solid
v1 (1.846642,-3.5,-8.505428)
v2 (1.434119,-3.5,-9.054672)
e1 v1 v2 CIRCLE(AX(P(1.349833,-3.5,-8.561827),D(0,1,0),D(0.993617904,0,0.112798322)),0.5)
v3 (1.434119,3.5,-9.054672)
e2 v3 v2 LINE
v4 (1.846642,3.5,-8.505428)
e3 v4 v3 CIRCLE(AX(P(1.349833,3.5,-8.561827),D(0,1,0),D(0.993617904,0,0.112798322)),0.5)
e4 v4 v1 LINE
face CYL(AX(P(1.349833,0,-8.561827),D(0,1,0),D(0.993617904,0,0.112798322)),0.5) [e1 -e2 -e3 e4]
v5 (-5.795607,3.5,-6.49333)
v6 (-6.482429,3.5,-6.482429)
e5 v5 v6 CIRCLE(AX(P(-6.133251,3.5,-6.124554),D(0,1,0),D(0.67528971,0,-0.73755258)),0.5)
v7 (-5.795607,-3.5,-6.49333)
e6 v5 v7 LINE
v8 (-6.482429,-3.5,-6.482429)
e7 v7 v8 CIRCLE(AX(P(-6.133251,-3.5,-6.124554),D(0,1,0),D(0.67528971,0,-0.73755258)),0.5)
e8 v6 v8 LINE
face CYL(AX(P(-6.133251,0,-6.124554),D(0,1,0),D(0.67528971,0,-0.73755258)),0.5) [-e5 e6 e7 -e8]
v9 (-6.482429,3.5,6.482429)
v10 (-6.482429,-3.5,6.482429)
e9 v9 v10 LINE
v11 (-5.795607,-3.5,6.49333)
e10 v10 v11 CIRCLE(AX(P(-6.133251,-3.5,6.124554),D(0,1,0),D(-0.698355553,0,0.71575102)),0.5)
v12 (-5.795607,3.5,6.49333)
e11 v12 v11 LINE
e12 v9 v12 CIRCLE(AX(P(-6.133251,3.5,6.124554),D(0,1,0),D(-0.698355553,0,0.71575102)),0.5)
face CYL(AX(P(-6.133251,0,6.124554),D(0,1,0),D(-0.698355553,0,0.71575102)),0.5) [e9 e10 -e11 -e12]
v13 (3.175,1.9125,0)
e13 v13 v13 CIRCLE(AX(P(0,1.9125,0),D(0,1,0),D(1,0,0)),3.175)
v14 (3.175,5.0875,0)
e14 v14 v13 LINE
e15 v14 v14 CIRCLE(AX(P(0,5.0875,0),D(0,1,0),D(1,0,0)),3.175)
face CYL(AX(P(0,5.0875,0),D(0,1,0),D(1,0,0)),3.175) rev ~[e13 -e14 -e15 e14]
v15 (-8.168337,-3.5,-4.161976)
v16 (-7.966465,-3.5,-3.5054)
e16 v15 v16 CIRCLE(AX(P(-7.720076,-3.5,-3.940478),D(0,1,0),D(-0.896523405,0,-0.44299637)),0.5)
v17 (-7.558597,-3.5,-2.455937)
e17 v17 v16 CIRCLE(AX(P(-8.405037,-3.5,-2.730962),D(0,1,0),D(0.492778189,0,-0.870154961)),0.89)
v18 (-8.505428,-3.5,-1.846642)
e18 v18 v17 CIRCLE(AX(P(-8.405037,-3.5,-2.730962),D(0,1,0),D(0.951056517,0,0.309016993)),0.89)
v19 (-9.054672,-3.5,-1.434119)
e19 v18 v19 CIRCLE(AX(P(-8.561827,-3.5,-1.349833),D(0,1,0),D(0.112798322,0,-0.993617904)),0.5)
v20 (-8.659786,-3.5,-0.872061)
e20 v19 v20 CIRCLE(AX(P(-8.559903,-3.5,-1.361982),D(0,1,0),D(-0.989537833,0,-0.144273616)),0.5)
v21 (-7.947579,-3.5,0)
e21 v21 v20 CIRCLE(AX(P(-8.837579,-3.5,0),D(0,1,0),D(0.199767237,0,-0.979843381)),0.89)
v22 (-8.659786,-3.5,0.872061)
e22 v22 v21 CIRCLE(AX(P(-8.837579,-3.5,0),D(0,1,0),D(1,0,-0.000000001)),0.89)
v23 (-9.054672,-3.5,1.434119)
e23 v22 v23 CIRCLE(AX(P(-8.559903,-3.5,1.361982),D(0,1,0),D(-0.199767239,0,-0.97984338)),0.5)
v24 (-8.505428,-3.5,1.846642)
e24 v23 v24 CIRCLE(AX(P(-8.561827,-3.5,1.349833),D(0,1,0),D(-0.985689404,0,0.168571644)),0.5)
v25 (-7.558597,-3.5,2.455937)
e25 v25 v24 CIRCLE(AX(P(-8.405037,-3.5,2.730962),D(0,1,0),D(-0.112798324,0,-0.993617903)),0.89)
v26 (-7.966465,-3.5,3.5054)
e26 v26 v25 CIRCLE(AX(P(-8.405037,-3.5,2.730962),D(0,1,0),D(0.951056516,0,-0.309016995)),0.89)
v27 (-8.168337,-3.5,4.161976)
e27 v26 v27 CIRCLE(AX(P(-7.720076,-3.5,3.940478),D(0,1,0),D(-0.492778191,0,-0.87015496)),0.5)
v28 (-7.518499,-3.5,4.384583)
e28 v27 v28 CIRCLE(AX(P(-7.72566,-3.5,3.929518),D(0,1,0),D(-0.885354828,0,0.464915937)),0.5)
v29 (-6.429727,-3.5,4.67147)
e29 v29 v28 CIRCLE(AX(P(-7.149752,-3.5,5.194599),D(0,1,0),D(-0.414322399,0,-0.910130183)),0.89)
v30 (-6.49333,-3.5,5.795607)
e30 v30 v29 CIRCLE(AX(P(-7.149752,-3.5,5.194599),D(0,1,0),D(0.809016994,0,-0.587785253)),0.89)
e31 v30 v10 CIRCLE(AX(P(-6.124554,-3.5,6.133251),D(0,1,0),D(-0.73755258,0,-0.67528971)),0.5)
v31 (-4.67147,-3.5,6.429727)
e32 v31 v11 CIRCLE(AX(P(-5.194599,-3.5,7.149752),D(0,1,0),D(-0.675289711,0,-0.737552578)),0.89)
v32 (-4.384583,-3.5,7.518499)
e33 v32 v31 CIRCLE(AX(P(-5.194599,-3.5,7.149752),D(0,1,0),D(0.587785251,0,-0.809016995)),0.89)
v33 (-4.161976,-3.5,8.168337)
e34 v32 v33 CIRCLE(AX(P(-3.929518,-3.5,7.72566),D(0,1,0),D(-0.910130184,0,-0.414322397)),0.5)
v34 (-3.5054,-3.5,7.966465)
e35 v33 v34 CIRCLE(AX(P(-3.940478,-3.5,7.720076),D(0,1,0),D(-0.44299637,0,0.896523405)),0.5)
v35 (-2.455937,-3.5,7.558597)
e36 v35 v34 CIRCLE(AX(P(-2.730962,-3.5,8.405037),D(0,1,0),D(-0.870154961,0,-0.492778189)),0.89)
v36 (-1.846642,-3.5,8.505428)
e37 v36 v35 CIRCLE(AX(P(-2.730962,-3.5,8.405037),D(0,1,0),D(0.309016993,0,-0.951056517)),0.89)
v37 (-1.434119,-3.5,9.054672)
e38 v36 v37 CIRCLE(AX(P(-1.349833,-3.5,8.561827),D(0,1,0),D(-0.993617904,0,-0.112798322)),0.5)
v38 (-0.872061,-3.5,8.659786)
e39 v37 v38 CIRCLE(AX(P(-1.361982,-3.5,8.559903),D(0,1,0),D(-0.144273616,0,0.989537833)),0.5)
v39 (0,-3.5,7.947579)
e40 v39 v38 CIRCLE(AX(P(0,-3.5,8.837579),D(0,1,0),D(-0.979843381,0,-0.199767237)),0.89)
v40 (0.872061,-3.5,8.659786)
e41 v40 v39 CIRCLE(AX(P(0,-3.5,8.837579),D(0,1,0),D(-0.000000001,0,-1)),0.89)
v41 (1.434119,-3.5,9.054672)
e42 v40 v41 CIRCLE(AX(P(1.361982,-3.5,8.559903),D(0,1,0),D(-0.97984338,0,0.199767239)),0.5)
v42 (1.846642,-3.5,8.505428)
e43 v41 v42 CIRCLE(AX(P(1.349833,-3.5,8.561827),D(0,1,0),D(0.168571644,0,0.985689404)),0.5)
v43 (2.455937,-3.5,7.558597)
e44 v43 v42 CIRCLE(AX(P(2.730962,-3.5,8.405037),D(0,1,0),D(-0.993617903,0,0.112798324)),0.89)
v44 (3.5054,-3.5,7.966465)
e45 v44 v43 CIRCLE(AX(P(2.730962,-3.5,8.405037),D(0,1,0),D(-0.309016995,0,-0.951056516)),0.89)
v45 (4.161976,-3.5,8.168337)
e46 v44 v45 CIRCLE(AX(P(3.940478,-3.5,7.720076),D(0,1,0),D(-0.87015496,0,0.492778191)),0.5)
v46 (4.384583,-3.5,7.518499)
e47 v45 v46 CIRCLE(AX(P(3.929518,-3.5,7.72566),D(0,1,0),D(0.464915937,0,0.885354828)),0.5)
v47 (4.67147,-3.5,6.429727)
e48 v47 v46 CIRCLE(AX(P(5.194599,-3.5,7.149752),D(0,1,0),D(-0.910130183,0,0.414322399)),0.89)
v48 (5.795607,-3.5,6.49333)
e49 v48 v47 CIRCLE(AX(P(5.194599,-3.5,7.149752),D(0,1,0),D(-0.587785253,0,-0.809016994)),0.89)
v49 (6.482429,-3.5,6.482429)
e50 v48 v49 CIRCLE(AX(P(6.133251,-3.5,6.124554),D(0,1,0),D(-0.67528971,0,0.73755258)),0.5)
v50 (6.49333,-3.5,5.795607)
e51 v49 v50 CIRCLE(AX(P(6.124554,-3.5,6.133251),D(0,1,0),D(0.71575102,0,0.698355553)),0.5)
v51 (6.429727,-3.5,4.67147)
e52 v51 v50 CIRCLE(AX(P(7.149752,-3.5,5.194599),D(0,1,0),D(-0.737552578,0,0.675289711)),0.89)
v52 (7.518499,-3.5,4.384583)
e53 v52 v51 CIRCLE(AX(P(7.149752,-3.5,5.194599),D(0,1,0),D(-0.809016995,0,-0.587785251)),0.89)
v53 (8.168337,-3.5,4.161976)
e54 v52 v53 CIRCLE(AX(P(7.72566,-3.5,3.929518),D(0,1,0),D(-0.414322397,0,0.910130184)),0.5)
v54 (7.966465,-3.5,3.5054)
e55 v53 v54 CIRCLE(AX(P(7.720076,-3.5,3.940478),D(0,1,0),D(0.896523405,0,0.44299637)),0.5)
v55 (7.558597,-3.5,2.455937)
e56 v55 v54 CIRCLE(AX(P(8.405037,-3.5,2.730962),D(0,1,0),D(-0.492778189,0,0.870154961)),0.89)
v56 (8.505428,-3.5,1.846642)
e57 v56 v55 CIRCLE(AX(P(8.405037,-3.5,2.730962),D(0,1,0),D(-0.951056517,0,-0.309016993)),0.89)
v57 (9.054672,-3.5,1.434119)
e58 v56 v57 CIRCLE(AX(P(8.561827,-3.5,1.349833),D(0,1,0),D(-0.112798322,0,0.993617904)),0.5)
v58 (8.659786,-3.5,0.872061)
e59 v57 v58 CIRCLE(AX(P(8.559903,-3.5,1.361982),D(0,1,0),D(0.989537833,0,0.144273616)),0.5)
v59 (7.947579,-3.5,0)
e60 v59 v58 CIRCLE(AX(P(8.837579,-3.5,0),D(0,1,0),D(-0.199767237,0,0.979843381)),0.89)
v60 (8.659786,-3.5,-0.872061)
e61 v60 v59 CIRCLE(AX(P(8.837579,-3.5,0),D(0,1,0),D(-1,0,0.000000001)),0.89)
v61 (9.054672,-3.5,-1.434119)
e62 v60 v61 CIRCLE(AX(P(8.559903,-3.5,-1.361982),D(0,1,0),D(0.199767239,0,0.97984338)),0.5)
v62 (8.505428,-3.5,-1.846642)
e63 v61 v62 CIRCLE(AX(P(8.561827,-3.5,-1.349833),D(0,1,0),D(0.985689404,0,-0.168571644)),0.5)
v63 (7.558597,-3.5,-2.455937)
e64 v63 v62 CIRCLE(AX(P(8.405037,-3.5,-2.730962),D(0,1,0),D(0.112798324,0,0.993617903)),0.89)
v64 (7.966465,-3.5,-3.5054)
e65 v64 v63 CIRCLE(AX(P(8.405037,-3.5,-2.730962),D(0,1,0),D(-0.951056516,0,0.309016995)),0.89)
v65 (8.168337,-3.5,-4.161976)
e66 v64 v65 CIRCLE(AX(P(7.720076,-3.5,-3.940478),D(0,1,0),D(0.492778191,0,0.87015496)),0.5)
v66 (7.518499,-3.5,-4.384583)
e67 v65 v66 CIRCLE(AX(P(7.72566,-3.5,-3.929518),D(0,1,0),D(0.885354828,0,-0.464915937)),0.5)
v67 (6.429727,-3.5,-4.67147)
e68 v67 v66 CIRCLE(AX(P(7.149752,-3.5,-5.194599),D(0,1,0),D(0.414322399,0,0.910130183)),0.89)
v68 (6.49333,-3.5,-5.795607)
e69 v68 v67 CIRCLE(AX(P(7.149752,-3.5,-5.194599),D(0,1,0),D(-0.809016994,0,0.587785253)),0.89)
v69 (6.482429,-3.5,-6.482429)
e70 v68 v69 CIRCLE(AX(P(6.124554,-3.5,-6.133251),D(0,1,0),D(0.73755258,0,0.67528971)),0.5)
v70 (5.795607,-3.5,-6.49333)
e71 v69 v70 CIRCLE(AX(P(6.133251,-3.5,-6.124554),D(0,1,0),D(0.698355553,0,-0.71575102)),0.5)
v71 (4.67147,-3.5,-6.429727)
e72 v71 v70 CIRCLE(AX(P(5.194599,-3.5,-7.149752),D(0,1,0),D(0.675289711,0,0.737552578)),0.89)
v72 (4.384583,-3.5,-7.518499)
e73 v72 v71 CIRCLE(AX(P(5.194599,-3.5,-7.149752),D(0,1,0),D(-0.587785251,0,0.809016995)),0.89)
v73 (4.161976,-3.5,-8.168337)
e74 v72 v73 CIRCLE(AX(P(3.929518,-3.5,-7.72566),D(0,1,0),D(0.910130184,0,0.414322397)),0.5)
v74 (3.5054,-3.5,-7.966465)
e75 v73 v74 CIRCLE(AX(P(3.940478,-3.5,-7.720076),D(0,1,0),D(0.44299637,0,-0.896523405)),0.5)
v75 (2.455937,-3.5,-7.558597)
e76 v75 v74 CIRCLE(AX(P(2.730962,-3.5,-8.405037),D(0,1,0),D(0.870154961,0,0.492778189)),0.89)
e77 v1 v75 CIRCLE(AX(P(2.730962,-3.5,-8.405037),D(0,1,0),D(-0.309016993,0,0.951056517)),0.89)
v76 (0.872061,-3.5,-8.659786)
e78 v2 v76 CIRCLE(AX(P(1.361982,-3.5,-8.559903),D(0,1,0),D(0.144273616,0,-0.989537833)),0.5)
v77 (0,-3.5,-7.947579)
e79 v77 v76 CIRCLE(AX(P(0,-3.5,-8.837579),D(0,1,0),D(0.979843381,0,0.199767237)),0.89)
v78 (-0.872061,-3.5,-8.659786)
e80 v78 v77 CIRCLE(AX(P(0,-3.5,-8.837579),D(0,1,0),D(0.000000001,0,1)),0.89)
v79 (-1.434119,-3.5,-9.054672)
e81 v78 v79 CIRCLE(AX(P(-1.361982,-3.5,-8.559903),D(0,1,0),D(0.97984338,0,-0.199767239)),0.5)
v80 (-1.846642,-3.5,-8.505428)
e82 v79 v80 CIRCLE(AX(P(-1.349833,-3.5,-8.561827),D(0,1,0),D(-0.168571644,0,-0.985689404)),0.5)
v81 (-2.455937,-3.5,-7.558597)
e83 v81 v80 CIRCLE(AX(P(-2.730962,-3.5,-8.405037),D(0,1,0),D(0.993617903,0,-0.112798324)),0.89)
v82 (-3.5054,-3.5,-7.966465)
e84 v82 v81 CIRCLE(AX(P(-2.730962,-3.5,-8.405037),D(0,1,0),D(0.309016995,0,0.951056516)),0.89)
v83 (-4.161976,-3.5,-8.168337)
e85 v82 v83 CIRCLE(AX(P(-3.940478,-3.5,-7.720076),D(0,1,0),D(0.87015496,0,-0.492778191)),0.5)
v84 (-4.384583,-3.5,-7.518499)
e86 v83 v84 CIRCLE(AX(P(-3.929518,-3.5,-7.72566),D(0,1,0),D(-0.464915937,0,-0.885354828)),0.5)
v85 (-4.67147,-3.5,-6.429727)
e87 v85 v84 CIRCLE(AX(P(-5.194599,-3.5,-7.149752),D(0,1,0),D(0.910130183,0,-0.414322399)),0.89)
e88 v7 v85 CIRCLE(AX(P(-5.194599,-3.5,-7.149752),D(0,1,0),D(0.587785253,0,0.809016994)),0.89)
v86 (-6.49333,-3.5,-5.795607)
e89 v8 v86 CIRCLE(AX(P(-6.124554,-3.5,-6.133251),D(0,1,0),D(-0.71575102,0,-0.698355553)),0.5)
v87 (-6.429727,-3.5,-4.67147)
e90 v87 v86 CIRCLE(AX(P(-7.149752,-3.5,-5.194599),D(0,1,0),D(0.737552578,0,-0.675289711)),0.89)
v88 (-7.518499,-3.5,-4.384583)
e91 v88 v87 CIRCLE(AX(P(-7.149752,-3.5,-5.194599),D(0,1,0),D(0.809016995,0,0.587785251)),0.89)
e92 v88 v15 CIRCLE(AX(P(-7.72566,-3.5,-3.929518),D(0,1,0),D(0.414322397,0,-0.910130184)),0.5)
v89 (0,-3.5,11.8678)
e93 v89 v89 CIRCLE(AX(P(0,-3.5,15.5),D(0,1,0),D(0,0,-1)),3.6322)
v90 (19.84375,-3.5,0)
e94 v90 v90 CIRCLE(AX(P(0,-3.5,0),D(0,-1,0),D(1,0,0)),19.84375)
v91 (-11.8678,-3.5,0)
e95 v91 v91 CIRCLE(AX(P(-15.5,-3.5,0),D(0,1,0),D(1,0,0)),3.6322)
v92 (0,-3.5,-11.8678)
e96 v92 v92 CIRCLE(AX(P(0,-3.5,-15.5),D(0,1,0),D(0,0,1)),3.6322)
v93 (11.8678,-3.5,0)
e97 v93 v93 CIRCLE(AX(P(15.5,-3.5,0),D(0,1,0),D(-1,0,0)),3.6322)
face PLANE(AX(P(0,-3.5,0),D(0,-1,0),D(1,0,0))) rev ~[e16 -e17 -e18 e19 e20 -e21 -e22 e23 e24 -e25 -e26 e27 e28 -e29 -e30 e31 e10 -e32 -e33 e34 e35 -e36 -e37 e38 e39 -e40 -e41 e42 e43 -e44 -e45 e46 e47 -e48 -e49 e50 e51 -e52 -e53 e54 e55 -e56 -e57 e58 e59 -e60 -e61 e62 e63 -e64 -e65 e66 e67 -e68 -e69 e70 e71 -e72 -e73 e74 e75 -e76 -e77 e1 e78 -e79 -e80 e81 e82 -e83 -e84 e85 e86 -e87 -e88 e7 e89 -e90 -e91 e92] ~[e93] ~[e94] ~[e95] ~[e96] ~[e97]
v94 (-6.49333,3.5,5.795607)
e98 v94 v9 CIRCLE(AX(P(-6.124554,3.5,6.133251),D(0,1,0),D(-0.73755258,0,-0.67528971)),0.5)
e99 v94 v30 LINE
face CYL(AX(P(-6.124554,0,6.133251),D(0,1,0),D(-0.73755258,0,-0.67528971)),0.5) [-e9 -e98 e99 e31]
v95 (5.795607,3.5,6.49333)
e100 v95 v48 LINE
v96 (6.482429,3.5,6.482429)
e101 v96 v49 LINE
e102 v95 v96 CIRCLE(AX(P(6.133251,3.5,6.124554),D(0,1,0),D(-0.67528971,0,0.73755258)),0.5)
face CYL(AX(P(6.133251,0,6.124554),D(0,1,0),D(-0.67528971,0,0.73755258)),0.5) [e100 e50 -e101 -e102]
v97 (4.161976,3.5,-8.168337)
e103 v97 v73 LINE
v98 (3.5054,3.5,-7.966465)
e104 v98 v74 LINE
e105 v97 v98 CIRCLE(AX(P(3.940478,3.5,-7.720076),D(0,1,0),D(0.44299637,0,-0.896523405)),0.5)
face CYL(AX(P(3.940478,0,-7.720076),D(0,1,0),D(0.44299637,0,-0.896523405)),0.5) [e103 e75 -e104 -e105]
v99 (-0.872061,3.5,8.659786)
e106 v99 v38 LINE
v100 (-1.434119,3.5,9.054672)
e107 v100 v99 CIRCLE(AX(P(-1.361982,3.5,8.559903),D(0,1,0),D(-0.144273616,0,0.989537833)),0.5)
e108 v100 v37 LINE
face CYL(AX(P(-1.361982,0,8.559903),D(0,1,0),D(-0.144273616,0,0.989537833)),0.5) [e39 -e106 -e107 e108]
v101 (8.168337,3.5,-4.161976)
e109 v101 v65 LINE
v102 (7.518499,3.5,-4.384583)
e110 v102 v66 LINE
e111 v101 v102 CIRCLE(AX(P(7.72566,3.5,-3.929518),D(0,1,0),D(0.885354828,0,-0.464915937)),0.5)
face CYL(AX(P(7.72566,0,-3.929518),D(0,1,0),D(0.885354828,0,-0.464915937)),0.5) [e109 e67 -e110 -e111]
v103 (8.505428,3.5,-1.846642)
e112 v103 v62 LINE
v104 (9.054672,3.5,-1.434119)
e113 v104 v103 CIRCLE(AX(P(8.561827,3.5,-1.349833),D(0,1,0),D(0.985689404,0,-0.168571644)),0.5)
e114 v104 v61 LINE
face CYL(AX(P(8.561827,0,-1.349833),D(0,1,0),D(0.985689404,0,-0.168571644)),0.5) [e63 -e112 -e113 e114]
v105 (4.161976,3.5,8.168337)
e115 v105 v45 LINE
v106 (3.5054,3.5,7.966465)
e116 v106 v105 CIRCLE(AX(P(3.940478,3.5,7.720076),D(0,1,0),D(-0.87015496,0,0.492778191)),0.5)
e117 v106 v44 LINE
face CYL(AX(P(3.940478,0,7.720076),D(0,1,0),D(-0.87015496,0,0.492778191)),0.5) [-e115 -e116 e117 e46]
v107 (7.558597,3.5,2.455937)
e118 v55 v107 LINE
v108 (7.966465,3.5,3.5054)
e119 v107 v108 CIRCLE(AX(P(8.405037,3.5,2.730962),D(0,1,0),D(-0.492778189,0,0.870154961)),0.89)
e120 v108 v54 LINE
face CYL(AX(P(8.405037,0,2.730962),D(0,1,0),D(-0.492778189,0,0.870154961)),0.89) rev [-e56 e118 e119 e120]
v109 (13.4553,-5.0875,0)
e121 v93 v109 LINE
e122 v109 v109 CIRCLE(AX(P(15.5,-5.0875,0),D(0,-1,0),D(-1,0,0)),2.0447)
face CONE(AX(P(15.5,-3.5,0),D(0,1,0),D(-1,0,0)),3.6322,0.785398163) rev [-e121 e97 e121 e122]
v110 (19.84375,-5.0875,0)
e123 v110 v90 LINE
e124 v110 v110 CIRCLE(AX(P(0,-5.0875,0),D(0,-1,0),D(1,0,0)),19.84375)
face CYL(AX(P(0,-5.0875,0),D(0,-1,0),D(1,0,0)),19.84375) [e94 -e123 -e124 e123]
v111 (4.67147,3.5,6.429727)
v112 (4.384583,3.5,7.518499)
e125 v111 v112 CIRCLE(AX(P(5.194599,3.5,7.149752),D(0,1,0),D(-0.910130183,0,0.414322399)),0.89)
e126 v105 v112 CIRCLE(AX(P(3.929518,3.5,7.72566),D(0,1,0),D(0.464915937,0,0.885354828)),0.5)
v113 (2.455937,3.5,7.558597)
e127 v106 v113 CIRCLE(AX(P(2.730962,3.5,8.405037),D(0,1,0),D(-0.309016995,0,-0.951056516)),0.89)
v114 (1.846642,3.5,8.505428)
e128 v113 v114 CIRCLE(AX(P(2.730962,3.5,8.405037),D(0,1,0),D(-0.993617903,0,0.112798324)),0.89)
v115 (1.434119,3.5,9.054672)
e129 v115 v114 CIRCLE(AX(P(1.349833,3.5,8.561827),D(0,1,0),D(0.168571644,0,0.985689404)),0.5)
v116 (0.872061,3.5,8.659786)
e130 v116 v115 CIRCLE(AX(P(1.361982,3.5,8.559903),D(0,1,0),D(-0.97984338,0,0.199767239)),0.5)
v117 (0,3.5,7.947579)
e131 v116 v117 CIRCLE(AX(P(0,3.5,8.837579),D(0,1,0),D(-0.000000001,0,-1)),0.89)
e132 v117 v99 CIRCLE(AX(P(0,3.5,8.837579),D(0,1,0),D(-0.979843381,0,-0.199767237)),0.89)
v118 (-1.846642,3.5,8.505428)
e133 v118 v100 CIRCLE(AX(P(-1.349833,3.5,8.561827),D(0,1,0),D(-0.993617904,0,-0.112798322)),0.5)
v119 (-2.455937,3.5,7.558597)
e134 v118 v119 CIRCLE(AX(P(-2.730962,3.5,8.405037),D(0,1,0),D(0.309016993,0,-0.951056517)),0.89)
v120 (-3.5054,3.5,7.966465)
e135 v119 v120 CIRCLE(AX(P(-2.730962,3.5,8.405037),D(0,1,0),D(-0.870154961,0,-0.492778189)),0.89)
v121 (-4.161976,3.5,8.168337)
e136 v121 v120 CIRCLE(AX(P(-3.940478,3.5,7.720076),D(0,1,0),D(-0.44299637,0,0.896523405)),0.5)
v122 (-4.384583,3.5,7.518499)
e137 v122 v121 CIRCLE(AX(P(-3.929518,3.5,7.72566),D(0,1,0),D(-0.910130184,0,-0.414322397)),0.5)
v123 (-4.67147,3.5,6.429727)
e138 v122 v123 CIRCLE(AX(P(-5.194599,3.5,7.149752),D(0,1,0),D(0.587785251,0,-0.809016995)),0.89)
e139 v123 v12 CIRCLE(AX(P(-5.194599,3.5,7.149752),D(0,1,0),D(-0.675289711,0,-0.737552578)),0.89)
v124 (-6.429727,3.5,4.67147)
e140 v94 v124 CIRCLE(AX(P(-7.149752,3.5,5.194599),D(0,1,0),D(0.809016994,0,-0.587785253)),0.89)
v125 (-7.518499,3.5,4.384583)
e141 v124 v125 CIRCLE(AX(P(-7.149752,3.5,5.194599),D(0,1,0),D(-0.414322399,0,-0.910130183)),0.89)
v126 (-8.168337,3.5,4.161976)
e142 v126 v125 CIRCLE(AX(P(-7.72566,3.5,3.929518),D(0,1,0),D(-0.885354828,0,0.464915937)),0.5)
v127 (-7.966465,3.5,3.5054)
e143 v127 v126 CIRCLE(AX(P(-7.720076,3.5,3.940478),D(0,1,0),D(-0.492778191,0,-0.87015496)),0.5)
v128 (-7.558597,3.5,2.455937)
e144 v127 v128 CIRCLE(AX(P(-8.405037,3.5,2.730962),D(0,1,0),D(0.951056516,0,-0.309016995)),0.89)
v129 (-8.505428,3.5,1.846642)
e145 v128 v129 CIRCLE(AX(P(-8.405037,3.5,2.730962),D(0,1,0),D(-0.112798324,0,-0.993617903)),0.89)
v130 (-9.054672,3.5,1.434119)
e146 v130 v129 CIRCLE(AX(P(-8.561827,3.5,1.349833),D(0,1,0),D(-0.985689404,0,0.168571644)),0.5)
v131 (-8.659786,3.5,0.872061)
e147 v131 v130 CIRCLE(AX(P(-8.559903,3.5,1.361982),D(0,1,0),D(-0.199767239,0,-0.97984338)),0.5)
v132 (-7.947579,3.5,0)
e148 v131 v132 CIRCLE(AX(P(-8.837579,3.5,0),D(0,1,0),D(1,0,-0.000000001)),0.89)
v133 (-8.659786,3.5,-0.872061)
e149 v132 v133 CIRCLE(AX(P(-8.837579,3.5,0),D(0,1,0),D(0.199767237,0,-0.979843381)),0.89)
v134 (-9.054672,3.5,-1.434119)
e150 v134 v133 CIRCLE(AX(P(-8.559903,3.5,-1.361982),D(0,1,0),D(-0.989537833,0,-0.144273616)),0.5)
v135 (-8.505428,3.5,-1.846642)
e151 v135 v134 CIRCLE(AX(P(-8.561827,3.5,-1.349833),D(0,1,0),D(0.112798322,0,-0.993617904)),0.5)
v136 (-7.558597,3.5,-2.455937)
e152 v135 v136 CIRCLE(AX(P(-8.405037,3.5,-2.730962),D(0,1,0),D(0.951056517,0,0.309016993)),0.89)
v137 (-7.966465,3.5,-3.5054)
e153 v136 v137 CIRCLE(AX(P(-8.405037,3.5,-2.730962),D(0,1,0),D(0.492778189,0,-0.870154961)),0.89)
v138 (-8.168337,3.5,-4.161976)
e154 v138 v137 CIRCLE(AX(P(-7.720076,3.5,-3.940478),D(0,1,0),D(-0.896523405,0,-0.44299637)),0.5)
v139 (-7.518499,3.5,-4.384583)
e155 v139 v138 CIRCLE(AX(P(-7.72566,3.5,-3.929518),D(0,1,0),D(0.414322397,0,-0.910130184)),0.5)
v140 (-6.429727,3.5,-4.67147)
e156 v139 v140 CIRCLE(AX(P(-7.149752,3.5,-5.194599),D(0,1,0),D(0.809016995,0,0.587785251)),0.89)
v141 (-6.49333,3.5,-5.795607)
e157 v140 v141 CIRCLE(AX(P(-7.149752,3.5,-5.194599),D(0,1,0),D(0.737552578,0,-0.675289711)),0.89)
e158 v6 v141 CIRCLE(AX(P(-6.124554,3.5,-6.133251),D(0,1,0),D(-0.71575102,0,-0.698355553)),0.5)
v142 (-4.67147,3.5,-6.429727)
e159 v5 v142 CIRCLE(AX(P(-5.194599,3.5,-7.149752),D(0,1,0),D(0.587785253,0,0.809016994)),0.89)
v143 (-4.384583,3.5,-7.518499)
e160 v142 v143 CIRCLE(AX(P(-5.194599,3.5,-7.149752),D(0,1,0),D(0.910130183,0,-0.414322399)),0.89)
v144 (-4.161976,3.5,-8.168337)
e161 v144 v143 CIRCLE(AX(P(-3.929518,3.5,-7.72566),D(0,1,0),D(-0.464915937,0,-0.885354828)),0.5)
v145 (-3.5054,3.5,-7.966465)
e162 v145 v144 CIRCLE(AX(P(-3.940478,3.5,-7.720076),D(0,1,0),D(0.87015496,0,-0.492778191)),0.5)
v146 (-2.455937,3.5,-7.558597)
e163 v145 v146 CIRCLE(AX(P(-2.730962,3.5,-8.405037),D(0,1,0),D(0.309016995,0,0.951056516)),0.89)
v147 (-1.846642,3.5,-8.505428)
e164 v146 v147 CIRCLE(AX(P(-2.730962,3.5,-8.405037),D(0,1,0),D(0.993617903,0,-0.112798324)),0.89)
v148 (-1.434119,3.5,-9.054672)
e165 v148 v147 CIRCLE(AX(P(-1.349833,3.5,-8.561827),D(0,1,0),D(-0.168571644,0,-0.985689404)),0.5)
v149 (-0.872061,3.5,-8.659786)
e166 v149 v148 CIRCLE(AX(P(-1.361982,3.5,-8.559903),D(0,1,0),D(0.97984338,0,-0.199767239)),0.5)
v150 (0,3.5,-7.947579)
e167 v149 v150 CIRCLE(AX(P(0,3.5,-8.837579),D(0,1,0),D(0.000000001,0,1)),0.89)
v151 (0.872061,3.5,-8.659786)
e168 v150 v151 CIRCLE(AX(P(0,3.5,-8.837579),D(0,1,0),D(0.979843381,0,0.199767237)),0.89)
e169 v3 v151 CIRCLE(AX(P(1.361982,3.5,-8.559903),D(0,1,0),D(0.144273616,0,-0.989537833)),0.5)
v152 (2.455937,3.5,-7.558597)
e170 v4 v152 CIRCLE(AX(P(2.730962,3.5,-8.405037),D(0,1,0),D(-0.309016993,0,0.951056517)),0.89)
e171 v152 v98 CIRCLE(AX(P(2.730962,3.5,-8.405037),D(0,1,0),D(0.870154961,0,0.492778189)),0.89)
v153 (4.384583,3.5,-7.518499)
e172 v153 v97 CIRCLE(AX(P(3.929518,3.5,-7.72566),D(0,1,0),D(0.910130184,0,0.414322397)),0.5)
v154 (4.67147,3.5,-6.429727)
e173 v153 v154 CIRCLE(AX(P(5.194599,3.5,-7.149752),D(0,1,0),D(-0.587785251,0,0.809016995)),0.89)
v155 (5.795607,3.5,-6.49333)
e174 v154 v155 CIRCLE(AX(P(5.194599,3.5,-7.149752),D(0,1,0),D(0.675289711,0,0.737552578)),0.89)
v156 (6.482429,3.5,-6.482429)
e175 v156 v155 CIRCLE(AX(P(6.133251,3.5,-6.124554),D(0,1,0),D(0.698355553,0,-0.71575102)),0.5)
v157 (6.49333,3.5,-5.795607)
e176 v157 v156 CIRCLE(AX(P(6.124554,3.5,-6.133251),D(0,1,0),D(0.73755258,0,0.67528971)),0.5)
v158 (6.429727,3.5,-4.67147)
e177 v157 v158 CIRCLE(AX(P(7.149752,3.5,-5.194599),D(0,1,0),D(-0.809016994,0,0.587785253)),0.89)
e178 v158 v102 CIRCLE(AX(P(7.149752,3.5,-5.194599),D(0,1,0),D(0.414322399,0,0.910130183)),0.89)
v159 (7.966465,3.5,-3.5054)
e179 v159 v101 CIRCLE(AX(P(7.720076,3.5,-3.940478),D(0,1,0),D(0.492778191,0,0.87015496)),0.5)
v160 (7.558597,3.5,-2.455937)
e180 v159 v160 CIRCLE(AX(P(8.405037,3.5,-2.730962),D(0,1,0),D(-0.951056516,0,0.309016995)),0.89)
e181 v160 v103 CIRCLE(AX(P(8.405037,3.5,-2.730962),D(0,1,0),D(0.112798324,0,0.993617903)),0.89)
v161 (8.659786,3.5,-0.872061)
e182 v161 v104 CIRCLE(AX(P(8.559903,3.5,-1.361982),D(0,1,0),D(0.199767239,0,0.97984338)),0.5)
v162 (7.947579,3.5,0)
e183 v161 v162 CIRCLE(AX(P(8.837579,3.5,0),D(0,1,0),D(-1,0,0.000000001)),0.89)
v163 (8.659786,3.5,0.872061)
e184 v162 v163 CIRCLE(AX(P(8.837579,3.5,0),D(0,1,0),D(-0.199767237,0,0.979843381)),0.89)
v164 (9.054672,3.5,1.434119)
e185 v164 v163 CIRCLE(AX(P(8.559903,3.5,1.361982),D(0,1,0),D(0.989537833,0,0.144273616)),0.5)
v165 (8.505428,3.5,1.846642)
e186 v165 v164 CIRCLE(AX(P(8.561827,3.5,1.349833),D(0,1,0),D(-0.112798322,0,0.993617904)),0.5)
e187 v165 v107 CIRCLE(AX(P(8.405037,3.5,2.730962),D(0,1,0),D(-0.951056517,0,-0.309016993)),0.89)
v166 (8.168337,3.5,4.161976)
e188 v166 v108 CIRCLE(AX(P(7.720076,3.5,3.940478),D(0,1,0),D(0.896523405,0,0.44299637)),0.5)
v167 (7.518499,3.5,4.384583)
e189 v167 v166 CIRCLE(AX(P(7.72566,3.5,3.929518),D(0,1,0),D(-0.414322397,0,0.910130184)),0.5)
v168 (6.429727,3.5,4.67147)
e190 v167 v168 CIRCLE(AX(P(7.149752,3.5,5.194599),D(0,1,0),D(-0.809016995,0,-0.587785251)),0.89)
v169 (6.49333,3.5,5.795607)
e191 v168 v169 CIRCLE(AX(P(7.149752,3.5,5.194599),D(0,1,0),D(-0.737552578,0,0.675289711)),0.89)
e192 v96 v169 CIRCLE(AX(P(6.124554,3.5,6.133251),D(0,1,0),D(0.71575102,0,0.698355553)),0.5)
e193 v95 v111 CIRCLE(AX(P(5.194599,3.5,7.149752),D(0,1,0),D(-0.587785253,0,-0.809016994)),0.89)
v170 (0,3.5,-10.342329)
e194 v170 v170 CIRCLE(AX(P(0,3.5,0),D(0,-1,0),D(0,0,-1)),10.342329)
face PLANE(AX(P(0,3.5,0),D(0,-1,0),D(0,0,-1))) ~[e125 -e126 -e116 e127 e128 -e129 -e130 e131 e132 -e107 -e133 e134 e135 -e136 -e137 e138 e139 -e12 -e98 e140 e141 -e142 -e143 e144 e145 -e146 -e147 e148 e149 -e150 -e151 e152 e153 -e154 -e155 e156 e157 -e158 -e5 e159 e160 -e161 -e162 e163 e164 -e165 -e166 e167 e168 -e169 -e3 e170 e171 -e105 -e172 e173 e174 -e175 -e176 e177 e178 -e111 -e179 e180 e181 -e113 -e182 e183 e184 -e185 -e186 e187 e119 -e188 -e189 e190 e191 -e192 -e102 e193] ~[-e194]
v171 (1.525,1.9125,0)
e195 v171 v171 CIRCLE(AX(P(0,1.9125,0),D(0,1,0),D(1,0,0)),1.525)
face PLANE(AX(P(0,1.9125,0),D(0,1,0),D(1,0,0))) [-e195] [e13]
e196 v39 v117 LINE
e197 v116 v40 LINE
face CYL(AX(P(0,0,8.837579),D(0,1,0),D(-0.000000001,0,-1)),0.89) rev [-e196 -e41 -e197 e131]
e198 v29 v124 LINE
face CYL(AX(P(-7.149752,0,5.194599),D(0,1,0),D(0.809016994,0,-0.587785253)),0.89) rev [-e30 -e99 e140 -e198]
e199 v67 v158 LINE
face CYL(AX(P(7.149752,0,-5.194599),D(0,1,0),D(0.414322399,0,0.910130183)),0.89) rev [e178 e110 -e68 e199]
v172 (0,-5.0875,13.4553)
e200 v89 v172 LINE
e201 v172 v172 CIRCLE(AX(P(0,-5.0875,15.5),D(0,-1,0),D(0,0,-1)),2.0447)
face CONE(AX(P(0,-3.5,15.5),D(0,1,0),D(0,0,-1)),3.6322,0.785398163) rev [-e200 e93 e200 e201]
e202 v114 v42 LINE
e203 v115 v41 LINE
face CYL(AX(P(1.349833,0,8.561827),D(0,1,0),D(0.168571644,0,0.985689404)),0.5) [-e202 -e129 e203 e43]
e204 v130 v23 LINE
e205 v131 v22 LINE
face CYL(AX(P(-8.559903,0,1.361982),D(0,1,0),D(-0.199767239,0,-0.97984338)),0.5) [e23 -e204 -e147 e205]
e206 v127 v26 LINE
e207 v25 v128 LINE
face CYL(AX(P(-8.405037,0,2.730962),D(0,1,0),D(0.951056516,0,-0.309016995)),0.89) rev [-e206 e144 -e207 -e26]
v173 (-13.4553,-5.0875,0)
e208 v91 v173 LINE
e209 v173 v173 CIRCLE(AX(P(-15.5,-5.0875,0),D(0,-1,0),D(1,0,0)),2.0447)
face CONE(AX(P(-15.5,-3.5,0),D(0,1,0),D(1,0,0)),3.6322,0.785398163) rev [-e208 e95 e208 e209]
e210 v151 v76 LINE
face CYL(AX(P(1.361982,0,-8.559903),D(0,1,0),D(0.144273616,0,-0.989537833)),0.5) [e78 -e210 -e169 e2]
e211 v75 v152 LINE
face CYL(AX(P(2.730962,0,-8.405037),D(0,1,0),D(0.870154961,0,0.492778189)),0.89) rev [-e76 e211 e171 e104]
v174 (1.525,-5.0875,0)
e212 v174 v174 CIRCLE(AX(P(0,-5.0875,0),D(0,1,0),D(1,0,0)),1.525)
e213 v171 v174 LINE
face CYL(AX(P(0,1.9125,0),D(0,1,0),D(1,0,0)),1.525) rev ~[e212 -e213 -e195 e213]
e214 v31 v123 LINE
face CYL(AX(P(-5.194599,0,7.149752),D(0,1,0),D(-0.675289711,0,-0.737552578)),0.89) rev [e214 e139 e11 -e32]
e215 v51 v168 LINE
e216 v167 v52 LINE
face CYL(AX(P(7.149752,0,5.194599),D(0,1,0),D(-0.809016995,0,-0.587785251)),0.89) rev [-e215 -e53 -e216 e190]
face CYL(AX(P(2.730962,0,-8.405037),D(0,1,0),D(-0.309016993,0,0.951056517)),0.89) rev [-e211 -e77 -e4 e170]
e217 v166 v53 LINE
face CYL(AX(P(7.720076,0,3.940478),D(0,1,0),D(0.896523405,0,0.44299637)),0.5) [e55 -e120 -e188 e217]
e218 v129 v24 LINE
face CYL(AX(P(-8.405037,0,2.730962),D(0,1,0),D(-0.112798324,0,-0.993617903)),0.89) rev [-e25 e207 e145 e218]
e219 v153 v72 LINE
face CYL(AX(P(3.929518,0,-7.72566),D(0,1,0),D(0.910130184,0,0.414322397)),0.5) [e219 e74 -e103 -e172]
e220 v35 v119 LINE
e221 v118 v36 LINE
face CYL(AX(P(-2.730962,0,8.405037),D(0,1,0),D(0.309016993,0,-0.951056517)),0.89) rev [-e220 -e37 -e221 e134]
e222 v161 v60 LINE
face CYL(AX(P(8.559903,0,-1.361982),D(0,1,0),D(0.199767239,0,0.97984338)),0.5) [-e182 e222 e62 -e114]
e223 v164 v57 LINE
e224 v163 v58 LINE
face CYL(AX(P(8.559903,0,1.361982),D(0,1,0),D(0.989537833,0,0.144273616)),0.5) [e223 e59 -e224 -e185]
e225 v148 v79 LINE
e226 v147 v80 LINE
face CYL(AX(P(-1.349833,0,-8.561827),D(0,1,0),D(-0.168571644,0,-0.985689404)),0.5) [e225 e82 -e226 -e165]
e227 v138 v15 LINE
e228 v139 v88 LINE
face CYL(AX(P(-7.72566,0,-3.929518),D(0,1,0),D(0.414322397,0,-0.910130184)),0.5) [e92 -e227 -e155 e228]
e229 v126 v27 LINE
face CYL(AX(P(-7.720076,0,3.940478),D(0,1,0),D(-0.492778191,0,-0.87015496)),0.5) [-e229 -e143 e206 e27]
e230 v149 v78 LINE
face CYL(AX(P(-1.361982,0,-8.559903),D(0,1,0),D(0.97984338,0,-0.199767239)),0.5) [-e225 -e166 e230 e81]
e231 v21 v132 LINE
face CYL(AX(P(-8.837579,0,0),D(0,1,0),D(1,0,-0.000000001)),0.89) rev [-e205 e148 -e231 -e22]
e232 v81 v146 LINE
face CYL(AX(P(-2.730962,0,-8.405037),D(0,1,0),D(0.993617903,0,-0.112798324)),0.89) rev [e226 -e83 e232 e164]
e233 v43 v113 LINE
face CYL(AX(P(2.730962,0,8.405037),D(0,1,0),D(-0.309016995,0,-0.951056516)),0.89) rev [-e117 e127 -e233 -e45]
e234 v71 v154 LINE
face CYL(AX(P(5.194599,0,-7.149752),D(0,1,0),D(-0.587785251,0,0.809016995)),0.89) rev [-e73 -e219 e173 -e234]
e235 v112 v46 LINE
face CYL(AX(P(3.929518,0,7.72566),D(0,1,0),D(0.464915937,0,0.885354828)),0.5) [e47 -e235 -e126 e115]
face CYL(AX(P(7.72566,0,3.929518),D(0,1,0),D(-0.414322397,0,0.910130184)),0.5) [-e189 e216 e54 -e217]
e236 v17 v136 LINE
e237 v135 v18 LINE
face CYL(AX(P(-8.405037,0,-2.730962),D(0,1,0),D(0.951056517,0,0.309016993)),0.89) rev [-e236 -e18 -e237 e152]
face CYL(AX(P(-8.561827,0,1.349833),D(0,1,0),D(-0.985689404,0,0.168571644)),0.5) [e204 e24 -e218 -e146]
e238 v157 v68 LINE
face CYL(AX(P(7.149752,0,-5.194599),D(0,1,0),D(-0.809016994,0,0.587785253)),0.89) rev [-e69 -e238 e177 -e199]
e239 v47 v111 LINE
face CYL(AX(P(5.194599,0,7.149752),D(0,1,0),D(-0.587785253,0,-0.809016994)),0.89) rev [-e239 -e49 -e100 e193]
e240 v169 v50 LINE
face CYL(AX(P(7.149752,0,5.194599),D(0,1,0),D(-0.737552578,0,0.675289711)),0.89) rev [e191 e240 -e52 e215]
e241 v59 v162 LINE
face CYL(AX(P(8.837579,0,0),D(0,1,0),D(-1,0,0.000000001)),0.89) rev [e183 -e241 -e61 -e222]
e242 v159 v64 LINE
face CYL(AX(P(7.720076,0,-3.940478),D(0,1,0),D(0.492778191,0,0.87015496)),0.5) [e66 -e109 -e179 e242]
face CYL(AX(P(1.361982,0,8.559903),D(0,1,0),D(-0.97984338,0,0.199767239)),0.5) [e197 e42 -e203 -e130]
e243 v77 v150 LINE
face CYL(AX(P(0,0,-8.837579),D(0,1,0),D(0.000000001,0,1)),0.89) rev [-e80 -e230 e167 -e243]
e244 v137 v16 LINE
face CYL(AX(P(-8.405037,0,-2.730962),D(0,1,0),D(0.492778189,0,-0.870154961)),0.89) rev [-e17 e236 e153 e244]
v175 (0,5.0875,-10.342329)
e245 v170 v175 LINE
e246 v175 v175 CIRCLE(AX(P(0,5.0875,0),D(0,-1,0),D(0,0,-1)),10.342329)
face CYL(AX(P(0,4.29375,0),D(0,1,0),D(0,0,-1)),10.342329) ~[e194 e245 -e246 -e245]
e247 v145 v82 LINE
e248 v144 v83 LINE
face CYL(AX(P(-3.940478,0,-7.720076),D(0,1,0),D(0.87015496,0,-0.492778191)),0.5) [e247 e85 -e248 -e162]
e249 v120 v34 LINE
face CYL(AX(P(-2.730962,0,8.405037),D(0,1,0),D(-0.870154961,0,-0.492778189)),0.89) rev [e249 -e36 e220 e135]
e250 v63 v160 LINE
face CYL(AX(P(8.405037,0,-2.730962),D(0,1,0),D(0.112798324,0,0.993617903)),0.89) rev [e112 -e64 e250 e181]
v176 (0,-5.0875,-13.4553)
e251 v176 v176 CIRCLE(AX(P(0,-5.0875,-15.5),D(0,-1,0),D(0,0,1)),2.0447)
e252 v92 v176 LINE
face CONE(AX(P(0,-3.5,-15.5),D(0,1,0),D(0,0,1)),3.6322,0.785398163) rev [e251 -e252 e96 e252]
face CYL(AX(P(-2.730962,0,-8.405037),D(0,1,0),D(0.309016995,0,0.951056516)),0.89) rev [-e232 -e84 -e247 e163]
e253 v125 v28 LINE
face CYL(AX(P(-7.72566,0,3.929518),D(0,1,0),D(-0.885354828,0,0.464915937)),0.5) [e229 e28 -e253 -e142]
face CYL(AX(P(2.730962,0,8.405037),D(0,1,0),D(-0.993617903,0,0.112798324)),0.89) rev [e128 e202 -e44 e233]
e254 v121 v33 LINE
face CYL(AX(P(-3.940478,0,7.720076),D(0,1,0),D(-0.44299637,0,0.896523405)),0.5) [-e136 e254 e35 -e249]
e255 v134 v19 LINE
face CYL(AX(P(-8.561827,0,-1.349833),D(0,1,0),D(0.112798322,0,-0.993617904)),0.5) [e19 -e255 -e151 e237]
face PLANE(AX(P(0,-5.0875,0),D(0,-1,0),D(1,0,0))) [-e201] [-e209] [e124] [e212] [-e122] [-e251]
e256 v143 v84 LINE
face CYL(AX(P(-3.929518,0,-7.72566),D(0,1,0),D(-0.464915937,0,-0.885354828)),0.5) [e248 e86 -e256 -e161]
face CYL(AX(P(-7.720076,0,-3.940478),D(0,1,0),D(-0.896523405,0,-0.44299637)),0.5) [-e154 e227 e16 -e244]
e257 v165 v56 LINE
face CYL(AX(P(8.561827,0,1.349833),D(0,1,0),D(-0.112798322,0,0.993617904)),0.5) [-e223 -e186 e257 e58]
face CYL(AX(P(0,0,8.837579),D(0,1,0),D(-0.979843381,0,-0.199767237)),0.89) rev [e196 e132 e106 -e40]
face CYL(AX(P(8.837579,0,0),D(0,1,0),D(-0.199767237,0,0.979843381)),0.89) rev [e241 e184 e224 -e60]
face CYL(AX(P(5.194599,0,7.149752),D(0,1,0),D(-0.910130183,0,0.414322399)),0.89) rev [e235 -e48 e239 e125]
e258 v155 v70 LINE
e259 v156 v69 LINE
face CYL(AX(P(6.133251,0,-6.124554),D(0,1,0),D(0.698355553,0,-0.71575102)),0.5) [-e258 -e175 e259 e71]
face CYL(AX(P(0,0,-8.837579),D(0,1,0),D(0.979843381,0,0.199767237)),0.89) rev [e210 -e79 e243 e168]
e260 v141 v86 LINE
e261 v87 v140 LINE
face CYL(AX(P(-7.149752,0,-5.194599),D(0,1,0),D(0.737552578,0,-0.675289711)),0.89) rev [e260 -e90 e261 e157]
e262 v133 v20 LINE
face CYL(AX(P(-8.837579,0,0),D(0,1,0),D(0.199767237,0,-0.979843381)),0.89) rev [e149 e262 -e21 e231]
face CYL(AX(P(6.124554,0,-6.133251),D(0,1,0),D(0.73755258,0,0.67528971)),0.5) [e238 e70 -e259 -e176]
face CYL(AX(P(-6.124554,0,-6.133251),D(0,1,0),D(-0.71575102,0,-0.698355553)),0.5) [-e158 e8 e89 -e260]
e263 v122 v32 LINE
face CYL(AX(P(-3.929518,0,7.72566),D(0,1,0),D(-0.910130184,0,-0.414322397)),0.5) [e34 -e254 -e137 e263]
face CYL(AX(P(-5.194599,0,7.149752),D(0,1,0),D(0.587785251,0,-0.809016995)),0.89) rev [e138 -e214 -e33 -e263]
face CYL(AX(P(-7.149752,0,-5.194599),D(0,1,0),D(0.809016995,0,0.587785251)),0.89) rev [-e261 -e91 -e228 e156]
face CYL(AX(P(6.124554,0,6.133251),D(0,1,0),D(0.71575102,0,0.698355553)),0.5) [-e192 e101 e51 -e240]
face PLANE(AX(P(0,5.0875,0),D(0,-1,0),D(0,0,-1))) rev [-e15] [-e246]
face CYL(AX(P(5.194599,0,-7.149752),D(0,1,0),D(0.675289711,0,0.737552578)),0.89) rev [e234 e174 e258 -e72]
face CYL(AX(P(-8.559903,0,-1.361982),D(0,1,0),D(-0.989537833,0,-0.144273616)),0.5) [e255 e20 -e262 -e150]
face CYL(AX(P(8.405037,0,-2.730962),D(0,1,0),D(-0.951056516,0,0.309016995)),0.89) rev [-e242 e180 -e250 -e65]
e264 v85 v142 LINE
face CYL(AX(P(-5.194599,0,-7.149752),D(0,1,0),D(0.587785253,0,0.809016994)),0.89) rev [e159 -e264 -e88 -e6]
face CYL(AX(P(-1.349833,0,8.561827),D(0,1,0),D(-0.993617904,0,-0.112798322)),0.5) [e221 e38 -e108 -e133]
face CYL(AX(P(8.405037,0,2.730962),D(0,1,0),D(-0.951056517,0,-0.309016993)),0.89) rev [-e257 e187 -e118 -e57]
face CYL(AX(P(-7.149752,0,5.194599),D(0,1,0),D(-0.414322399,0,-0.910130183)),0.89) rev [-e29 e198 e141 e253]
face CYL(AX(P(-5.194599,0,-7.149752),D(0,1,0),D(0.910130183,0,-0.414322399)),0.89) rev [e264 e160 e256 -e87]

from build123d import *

# Parameters (mm, degrees)
BOSS_EXTRUDE1_DEPTH     = 3.556
CIRPATTERN1_COUNT       = 20
SKETCH2_W               = 10.342329408
SKETCH2_H               = 1.5875
SKETCH9_R               = 19.84375
SKETCH9_R_2             = 1.5
BOSS_EXTRUDE2_DEPTH     = 1.5875
SKETCH3_R               = 1.74625
CUT_EXTRUDE1_DEPTH      = 6.087499985
CUT_EXTRUDE1_DEPTH_BACK = 6.087499985
CIRPATTERN2_COUNT       = 4
SKETCH12_R              = 3.175
CUT_EXTRUDE2_DEPTH      = 3.175
SKETCH13_R              = 1.525
CUT_EXTRUDE4_DEPTH      = 7.99999997


with BuildPart() as part:
    # Sketch1 → Boss-Extrude1 (new body, symmetric)
    with BuildSketch(Plane(origin=(0, 0, 0), x_dir=(1, 0, 0), z_dir=(0, 1, 0))):
        with BuildLine():
            ThreePointArc((0.872060607, 8.659786465), (0.562967303, 8.148255135), (0, 7.947579308))
            ThreePointArc((0, 7.947579308), (-1.243275317, -7.849731418), (2.45593707, 7.55859709))
            ThreePointArc((2.45593707, 7.55859709), (1.982535589, 7.923417607), (1.846642263, 8.505427895))
            ThreePointArc((1.846642263, 8.505427895), (1.749626992, 8.862101959), (1.434119122, 9.054671776))
            ThreePointArc((1.434119122, 9.054671776), (1.074545959, 8.969024291), (0.872060607, 8.659786465))
        make_face()
    boss_extrude1 = extrude(amount=BOSS_EXTRUDE1_DEPTH, both=True)

    # CirPattern1: Boss-Extrude1 ×20 about axis
    cirpattern1_axis = Axis((0, 0, 0), (0, 1, 0))
    for i in range(1, CIRPATTERN1_COUNT):
        add(boss_extrude1.rotate(cirpattern1_axis, i * 360 / CIRPATTERN1_COUNT))

    # Sketch2 → Revolve3 (revolve)
    with BuildSketch(Plane(origin=(0, 0, 0), x_dir=(0, 0, -1), z_dir=(1, 0, 0))):
        with Locations((5.171164704, 4.293749985)):
            Rectangle(SKETCH2_W, SKETCH2_H)
    revolve3 = revolve(axis=Axis((0, 3.3, 0), (0, -1, 0)))

    # Mirror1: Revolve3 across plane
    add(revolve3.mirror(Plane.ZX))

    # Sketch9 → Boss-Extrude2 (add)
    with BuildSketch(Plane.XZ.offset(5.087499985)):
        Circle(SKETCH9_R)
        Circle(SKETCH9_R_2, mode=Mode.SUBTRACT)
    extrude(amount=-BOSS_EXTRUDE2_DEPTH)

    # Sketch3 → Cut-Extrude1 (cut, two sides)
    with BuildSketch(Plane(origin=(0, 0, 0), x_dir=(1, 0, 0), z_dir=(0, 1, 0))) as cut_extrude1_sk:
        with Locations((-15.5, 0)):
            Circle(SKETCH3_R)
        with Locations((0, 15.5)):
            Circle(SKETCH3_R)
        with Locations((15.5, 0)):
            Circle(SKETCH3_R)
        with Locations((0, -15.5)):
            Circle(SKETCH3_R)
    extrude(amount=CUT_EXTRUDE1_DEPTH, mode=Mode.SUBTRACT)
    extrude(cut_extrude1_sk.sketch, amount=-CUT_EXTRUDE1_DEPTH_BACK, mode=Mode.SUBTRACT)

    # Sketch6 → Cut-Revolve2 (revolve, cut)
    with BuildSketch(Plane.XY):
        Polygon((-11.8678, -3.499999985), (-15.5, -7.132199985), (-15.5, -3.499999985), align=None)
    cut_revolve2 = revolve(axis=Axis((-15.5, -5.087499985, 0), (0, 1, 0)), mode=Mode.SUBTRACT)

    # CirPattern2: Cut-Revolve2 ×4 about axis
    cirpattern2_axis = Axis((0, 0, 0), (0, 1, 0))
    for i in range(1, CIRPATTERN2_COUNT):
        add(cut_revolve2.rotate(cirpattern2_axis, i * 360 / CIRPATTERN2_COUNT), mode=Mode.SUBTRACT)

    # Sketch12 → Cut-Extrude2 (cut)
    with BuildSketch(Plane(origin=(0, 5.087499985, 0), x_dir=(1, 0, 0), z_dir=(0, 1, 0))):
        Circle(SKETCH12_R)
    extrude(amount=-CUT_EXTRUDE2_DEPTH, mode=Mode.SUBTRACT)

    # Sketch13 → Cut-Extrude4 (cut, through all)
    with BuildSketch(Plane(origin=(0, 1.912499985, 0), x_dir=(1, 0, 0), z_dir=(0, 1, 0))):
        Circle(SKETCH13_R)
    extrude(amount=-CUT_EXTRUDE4_DEPTH, mode=Mode.SUBTRACT)


solid = part.part
